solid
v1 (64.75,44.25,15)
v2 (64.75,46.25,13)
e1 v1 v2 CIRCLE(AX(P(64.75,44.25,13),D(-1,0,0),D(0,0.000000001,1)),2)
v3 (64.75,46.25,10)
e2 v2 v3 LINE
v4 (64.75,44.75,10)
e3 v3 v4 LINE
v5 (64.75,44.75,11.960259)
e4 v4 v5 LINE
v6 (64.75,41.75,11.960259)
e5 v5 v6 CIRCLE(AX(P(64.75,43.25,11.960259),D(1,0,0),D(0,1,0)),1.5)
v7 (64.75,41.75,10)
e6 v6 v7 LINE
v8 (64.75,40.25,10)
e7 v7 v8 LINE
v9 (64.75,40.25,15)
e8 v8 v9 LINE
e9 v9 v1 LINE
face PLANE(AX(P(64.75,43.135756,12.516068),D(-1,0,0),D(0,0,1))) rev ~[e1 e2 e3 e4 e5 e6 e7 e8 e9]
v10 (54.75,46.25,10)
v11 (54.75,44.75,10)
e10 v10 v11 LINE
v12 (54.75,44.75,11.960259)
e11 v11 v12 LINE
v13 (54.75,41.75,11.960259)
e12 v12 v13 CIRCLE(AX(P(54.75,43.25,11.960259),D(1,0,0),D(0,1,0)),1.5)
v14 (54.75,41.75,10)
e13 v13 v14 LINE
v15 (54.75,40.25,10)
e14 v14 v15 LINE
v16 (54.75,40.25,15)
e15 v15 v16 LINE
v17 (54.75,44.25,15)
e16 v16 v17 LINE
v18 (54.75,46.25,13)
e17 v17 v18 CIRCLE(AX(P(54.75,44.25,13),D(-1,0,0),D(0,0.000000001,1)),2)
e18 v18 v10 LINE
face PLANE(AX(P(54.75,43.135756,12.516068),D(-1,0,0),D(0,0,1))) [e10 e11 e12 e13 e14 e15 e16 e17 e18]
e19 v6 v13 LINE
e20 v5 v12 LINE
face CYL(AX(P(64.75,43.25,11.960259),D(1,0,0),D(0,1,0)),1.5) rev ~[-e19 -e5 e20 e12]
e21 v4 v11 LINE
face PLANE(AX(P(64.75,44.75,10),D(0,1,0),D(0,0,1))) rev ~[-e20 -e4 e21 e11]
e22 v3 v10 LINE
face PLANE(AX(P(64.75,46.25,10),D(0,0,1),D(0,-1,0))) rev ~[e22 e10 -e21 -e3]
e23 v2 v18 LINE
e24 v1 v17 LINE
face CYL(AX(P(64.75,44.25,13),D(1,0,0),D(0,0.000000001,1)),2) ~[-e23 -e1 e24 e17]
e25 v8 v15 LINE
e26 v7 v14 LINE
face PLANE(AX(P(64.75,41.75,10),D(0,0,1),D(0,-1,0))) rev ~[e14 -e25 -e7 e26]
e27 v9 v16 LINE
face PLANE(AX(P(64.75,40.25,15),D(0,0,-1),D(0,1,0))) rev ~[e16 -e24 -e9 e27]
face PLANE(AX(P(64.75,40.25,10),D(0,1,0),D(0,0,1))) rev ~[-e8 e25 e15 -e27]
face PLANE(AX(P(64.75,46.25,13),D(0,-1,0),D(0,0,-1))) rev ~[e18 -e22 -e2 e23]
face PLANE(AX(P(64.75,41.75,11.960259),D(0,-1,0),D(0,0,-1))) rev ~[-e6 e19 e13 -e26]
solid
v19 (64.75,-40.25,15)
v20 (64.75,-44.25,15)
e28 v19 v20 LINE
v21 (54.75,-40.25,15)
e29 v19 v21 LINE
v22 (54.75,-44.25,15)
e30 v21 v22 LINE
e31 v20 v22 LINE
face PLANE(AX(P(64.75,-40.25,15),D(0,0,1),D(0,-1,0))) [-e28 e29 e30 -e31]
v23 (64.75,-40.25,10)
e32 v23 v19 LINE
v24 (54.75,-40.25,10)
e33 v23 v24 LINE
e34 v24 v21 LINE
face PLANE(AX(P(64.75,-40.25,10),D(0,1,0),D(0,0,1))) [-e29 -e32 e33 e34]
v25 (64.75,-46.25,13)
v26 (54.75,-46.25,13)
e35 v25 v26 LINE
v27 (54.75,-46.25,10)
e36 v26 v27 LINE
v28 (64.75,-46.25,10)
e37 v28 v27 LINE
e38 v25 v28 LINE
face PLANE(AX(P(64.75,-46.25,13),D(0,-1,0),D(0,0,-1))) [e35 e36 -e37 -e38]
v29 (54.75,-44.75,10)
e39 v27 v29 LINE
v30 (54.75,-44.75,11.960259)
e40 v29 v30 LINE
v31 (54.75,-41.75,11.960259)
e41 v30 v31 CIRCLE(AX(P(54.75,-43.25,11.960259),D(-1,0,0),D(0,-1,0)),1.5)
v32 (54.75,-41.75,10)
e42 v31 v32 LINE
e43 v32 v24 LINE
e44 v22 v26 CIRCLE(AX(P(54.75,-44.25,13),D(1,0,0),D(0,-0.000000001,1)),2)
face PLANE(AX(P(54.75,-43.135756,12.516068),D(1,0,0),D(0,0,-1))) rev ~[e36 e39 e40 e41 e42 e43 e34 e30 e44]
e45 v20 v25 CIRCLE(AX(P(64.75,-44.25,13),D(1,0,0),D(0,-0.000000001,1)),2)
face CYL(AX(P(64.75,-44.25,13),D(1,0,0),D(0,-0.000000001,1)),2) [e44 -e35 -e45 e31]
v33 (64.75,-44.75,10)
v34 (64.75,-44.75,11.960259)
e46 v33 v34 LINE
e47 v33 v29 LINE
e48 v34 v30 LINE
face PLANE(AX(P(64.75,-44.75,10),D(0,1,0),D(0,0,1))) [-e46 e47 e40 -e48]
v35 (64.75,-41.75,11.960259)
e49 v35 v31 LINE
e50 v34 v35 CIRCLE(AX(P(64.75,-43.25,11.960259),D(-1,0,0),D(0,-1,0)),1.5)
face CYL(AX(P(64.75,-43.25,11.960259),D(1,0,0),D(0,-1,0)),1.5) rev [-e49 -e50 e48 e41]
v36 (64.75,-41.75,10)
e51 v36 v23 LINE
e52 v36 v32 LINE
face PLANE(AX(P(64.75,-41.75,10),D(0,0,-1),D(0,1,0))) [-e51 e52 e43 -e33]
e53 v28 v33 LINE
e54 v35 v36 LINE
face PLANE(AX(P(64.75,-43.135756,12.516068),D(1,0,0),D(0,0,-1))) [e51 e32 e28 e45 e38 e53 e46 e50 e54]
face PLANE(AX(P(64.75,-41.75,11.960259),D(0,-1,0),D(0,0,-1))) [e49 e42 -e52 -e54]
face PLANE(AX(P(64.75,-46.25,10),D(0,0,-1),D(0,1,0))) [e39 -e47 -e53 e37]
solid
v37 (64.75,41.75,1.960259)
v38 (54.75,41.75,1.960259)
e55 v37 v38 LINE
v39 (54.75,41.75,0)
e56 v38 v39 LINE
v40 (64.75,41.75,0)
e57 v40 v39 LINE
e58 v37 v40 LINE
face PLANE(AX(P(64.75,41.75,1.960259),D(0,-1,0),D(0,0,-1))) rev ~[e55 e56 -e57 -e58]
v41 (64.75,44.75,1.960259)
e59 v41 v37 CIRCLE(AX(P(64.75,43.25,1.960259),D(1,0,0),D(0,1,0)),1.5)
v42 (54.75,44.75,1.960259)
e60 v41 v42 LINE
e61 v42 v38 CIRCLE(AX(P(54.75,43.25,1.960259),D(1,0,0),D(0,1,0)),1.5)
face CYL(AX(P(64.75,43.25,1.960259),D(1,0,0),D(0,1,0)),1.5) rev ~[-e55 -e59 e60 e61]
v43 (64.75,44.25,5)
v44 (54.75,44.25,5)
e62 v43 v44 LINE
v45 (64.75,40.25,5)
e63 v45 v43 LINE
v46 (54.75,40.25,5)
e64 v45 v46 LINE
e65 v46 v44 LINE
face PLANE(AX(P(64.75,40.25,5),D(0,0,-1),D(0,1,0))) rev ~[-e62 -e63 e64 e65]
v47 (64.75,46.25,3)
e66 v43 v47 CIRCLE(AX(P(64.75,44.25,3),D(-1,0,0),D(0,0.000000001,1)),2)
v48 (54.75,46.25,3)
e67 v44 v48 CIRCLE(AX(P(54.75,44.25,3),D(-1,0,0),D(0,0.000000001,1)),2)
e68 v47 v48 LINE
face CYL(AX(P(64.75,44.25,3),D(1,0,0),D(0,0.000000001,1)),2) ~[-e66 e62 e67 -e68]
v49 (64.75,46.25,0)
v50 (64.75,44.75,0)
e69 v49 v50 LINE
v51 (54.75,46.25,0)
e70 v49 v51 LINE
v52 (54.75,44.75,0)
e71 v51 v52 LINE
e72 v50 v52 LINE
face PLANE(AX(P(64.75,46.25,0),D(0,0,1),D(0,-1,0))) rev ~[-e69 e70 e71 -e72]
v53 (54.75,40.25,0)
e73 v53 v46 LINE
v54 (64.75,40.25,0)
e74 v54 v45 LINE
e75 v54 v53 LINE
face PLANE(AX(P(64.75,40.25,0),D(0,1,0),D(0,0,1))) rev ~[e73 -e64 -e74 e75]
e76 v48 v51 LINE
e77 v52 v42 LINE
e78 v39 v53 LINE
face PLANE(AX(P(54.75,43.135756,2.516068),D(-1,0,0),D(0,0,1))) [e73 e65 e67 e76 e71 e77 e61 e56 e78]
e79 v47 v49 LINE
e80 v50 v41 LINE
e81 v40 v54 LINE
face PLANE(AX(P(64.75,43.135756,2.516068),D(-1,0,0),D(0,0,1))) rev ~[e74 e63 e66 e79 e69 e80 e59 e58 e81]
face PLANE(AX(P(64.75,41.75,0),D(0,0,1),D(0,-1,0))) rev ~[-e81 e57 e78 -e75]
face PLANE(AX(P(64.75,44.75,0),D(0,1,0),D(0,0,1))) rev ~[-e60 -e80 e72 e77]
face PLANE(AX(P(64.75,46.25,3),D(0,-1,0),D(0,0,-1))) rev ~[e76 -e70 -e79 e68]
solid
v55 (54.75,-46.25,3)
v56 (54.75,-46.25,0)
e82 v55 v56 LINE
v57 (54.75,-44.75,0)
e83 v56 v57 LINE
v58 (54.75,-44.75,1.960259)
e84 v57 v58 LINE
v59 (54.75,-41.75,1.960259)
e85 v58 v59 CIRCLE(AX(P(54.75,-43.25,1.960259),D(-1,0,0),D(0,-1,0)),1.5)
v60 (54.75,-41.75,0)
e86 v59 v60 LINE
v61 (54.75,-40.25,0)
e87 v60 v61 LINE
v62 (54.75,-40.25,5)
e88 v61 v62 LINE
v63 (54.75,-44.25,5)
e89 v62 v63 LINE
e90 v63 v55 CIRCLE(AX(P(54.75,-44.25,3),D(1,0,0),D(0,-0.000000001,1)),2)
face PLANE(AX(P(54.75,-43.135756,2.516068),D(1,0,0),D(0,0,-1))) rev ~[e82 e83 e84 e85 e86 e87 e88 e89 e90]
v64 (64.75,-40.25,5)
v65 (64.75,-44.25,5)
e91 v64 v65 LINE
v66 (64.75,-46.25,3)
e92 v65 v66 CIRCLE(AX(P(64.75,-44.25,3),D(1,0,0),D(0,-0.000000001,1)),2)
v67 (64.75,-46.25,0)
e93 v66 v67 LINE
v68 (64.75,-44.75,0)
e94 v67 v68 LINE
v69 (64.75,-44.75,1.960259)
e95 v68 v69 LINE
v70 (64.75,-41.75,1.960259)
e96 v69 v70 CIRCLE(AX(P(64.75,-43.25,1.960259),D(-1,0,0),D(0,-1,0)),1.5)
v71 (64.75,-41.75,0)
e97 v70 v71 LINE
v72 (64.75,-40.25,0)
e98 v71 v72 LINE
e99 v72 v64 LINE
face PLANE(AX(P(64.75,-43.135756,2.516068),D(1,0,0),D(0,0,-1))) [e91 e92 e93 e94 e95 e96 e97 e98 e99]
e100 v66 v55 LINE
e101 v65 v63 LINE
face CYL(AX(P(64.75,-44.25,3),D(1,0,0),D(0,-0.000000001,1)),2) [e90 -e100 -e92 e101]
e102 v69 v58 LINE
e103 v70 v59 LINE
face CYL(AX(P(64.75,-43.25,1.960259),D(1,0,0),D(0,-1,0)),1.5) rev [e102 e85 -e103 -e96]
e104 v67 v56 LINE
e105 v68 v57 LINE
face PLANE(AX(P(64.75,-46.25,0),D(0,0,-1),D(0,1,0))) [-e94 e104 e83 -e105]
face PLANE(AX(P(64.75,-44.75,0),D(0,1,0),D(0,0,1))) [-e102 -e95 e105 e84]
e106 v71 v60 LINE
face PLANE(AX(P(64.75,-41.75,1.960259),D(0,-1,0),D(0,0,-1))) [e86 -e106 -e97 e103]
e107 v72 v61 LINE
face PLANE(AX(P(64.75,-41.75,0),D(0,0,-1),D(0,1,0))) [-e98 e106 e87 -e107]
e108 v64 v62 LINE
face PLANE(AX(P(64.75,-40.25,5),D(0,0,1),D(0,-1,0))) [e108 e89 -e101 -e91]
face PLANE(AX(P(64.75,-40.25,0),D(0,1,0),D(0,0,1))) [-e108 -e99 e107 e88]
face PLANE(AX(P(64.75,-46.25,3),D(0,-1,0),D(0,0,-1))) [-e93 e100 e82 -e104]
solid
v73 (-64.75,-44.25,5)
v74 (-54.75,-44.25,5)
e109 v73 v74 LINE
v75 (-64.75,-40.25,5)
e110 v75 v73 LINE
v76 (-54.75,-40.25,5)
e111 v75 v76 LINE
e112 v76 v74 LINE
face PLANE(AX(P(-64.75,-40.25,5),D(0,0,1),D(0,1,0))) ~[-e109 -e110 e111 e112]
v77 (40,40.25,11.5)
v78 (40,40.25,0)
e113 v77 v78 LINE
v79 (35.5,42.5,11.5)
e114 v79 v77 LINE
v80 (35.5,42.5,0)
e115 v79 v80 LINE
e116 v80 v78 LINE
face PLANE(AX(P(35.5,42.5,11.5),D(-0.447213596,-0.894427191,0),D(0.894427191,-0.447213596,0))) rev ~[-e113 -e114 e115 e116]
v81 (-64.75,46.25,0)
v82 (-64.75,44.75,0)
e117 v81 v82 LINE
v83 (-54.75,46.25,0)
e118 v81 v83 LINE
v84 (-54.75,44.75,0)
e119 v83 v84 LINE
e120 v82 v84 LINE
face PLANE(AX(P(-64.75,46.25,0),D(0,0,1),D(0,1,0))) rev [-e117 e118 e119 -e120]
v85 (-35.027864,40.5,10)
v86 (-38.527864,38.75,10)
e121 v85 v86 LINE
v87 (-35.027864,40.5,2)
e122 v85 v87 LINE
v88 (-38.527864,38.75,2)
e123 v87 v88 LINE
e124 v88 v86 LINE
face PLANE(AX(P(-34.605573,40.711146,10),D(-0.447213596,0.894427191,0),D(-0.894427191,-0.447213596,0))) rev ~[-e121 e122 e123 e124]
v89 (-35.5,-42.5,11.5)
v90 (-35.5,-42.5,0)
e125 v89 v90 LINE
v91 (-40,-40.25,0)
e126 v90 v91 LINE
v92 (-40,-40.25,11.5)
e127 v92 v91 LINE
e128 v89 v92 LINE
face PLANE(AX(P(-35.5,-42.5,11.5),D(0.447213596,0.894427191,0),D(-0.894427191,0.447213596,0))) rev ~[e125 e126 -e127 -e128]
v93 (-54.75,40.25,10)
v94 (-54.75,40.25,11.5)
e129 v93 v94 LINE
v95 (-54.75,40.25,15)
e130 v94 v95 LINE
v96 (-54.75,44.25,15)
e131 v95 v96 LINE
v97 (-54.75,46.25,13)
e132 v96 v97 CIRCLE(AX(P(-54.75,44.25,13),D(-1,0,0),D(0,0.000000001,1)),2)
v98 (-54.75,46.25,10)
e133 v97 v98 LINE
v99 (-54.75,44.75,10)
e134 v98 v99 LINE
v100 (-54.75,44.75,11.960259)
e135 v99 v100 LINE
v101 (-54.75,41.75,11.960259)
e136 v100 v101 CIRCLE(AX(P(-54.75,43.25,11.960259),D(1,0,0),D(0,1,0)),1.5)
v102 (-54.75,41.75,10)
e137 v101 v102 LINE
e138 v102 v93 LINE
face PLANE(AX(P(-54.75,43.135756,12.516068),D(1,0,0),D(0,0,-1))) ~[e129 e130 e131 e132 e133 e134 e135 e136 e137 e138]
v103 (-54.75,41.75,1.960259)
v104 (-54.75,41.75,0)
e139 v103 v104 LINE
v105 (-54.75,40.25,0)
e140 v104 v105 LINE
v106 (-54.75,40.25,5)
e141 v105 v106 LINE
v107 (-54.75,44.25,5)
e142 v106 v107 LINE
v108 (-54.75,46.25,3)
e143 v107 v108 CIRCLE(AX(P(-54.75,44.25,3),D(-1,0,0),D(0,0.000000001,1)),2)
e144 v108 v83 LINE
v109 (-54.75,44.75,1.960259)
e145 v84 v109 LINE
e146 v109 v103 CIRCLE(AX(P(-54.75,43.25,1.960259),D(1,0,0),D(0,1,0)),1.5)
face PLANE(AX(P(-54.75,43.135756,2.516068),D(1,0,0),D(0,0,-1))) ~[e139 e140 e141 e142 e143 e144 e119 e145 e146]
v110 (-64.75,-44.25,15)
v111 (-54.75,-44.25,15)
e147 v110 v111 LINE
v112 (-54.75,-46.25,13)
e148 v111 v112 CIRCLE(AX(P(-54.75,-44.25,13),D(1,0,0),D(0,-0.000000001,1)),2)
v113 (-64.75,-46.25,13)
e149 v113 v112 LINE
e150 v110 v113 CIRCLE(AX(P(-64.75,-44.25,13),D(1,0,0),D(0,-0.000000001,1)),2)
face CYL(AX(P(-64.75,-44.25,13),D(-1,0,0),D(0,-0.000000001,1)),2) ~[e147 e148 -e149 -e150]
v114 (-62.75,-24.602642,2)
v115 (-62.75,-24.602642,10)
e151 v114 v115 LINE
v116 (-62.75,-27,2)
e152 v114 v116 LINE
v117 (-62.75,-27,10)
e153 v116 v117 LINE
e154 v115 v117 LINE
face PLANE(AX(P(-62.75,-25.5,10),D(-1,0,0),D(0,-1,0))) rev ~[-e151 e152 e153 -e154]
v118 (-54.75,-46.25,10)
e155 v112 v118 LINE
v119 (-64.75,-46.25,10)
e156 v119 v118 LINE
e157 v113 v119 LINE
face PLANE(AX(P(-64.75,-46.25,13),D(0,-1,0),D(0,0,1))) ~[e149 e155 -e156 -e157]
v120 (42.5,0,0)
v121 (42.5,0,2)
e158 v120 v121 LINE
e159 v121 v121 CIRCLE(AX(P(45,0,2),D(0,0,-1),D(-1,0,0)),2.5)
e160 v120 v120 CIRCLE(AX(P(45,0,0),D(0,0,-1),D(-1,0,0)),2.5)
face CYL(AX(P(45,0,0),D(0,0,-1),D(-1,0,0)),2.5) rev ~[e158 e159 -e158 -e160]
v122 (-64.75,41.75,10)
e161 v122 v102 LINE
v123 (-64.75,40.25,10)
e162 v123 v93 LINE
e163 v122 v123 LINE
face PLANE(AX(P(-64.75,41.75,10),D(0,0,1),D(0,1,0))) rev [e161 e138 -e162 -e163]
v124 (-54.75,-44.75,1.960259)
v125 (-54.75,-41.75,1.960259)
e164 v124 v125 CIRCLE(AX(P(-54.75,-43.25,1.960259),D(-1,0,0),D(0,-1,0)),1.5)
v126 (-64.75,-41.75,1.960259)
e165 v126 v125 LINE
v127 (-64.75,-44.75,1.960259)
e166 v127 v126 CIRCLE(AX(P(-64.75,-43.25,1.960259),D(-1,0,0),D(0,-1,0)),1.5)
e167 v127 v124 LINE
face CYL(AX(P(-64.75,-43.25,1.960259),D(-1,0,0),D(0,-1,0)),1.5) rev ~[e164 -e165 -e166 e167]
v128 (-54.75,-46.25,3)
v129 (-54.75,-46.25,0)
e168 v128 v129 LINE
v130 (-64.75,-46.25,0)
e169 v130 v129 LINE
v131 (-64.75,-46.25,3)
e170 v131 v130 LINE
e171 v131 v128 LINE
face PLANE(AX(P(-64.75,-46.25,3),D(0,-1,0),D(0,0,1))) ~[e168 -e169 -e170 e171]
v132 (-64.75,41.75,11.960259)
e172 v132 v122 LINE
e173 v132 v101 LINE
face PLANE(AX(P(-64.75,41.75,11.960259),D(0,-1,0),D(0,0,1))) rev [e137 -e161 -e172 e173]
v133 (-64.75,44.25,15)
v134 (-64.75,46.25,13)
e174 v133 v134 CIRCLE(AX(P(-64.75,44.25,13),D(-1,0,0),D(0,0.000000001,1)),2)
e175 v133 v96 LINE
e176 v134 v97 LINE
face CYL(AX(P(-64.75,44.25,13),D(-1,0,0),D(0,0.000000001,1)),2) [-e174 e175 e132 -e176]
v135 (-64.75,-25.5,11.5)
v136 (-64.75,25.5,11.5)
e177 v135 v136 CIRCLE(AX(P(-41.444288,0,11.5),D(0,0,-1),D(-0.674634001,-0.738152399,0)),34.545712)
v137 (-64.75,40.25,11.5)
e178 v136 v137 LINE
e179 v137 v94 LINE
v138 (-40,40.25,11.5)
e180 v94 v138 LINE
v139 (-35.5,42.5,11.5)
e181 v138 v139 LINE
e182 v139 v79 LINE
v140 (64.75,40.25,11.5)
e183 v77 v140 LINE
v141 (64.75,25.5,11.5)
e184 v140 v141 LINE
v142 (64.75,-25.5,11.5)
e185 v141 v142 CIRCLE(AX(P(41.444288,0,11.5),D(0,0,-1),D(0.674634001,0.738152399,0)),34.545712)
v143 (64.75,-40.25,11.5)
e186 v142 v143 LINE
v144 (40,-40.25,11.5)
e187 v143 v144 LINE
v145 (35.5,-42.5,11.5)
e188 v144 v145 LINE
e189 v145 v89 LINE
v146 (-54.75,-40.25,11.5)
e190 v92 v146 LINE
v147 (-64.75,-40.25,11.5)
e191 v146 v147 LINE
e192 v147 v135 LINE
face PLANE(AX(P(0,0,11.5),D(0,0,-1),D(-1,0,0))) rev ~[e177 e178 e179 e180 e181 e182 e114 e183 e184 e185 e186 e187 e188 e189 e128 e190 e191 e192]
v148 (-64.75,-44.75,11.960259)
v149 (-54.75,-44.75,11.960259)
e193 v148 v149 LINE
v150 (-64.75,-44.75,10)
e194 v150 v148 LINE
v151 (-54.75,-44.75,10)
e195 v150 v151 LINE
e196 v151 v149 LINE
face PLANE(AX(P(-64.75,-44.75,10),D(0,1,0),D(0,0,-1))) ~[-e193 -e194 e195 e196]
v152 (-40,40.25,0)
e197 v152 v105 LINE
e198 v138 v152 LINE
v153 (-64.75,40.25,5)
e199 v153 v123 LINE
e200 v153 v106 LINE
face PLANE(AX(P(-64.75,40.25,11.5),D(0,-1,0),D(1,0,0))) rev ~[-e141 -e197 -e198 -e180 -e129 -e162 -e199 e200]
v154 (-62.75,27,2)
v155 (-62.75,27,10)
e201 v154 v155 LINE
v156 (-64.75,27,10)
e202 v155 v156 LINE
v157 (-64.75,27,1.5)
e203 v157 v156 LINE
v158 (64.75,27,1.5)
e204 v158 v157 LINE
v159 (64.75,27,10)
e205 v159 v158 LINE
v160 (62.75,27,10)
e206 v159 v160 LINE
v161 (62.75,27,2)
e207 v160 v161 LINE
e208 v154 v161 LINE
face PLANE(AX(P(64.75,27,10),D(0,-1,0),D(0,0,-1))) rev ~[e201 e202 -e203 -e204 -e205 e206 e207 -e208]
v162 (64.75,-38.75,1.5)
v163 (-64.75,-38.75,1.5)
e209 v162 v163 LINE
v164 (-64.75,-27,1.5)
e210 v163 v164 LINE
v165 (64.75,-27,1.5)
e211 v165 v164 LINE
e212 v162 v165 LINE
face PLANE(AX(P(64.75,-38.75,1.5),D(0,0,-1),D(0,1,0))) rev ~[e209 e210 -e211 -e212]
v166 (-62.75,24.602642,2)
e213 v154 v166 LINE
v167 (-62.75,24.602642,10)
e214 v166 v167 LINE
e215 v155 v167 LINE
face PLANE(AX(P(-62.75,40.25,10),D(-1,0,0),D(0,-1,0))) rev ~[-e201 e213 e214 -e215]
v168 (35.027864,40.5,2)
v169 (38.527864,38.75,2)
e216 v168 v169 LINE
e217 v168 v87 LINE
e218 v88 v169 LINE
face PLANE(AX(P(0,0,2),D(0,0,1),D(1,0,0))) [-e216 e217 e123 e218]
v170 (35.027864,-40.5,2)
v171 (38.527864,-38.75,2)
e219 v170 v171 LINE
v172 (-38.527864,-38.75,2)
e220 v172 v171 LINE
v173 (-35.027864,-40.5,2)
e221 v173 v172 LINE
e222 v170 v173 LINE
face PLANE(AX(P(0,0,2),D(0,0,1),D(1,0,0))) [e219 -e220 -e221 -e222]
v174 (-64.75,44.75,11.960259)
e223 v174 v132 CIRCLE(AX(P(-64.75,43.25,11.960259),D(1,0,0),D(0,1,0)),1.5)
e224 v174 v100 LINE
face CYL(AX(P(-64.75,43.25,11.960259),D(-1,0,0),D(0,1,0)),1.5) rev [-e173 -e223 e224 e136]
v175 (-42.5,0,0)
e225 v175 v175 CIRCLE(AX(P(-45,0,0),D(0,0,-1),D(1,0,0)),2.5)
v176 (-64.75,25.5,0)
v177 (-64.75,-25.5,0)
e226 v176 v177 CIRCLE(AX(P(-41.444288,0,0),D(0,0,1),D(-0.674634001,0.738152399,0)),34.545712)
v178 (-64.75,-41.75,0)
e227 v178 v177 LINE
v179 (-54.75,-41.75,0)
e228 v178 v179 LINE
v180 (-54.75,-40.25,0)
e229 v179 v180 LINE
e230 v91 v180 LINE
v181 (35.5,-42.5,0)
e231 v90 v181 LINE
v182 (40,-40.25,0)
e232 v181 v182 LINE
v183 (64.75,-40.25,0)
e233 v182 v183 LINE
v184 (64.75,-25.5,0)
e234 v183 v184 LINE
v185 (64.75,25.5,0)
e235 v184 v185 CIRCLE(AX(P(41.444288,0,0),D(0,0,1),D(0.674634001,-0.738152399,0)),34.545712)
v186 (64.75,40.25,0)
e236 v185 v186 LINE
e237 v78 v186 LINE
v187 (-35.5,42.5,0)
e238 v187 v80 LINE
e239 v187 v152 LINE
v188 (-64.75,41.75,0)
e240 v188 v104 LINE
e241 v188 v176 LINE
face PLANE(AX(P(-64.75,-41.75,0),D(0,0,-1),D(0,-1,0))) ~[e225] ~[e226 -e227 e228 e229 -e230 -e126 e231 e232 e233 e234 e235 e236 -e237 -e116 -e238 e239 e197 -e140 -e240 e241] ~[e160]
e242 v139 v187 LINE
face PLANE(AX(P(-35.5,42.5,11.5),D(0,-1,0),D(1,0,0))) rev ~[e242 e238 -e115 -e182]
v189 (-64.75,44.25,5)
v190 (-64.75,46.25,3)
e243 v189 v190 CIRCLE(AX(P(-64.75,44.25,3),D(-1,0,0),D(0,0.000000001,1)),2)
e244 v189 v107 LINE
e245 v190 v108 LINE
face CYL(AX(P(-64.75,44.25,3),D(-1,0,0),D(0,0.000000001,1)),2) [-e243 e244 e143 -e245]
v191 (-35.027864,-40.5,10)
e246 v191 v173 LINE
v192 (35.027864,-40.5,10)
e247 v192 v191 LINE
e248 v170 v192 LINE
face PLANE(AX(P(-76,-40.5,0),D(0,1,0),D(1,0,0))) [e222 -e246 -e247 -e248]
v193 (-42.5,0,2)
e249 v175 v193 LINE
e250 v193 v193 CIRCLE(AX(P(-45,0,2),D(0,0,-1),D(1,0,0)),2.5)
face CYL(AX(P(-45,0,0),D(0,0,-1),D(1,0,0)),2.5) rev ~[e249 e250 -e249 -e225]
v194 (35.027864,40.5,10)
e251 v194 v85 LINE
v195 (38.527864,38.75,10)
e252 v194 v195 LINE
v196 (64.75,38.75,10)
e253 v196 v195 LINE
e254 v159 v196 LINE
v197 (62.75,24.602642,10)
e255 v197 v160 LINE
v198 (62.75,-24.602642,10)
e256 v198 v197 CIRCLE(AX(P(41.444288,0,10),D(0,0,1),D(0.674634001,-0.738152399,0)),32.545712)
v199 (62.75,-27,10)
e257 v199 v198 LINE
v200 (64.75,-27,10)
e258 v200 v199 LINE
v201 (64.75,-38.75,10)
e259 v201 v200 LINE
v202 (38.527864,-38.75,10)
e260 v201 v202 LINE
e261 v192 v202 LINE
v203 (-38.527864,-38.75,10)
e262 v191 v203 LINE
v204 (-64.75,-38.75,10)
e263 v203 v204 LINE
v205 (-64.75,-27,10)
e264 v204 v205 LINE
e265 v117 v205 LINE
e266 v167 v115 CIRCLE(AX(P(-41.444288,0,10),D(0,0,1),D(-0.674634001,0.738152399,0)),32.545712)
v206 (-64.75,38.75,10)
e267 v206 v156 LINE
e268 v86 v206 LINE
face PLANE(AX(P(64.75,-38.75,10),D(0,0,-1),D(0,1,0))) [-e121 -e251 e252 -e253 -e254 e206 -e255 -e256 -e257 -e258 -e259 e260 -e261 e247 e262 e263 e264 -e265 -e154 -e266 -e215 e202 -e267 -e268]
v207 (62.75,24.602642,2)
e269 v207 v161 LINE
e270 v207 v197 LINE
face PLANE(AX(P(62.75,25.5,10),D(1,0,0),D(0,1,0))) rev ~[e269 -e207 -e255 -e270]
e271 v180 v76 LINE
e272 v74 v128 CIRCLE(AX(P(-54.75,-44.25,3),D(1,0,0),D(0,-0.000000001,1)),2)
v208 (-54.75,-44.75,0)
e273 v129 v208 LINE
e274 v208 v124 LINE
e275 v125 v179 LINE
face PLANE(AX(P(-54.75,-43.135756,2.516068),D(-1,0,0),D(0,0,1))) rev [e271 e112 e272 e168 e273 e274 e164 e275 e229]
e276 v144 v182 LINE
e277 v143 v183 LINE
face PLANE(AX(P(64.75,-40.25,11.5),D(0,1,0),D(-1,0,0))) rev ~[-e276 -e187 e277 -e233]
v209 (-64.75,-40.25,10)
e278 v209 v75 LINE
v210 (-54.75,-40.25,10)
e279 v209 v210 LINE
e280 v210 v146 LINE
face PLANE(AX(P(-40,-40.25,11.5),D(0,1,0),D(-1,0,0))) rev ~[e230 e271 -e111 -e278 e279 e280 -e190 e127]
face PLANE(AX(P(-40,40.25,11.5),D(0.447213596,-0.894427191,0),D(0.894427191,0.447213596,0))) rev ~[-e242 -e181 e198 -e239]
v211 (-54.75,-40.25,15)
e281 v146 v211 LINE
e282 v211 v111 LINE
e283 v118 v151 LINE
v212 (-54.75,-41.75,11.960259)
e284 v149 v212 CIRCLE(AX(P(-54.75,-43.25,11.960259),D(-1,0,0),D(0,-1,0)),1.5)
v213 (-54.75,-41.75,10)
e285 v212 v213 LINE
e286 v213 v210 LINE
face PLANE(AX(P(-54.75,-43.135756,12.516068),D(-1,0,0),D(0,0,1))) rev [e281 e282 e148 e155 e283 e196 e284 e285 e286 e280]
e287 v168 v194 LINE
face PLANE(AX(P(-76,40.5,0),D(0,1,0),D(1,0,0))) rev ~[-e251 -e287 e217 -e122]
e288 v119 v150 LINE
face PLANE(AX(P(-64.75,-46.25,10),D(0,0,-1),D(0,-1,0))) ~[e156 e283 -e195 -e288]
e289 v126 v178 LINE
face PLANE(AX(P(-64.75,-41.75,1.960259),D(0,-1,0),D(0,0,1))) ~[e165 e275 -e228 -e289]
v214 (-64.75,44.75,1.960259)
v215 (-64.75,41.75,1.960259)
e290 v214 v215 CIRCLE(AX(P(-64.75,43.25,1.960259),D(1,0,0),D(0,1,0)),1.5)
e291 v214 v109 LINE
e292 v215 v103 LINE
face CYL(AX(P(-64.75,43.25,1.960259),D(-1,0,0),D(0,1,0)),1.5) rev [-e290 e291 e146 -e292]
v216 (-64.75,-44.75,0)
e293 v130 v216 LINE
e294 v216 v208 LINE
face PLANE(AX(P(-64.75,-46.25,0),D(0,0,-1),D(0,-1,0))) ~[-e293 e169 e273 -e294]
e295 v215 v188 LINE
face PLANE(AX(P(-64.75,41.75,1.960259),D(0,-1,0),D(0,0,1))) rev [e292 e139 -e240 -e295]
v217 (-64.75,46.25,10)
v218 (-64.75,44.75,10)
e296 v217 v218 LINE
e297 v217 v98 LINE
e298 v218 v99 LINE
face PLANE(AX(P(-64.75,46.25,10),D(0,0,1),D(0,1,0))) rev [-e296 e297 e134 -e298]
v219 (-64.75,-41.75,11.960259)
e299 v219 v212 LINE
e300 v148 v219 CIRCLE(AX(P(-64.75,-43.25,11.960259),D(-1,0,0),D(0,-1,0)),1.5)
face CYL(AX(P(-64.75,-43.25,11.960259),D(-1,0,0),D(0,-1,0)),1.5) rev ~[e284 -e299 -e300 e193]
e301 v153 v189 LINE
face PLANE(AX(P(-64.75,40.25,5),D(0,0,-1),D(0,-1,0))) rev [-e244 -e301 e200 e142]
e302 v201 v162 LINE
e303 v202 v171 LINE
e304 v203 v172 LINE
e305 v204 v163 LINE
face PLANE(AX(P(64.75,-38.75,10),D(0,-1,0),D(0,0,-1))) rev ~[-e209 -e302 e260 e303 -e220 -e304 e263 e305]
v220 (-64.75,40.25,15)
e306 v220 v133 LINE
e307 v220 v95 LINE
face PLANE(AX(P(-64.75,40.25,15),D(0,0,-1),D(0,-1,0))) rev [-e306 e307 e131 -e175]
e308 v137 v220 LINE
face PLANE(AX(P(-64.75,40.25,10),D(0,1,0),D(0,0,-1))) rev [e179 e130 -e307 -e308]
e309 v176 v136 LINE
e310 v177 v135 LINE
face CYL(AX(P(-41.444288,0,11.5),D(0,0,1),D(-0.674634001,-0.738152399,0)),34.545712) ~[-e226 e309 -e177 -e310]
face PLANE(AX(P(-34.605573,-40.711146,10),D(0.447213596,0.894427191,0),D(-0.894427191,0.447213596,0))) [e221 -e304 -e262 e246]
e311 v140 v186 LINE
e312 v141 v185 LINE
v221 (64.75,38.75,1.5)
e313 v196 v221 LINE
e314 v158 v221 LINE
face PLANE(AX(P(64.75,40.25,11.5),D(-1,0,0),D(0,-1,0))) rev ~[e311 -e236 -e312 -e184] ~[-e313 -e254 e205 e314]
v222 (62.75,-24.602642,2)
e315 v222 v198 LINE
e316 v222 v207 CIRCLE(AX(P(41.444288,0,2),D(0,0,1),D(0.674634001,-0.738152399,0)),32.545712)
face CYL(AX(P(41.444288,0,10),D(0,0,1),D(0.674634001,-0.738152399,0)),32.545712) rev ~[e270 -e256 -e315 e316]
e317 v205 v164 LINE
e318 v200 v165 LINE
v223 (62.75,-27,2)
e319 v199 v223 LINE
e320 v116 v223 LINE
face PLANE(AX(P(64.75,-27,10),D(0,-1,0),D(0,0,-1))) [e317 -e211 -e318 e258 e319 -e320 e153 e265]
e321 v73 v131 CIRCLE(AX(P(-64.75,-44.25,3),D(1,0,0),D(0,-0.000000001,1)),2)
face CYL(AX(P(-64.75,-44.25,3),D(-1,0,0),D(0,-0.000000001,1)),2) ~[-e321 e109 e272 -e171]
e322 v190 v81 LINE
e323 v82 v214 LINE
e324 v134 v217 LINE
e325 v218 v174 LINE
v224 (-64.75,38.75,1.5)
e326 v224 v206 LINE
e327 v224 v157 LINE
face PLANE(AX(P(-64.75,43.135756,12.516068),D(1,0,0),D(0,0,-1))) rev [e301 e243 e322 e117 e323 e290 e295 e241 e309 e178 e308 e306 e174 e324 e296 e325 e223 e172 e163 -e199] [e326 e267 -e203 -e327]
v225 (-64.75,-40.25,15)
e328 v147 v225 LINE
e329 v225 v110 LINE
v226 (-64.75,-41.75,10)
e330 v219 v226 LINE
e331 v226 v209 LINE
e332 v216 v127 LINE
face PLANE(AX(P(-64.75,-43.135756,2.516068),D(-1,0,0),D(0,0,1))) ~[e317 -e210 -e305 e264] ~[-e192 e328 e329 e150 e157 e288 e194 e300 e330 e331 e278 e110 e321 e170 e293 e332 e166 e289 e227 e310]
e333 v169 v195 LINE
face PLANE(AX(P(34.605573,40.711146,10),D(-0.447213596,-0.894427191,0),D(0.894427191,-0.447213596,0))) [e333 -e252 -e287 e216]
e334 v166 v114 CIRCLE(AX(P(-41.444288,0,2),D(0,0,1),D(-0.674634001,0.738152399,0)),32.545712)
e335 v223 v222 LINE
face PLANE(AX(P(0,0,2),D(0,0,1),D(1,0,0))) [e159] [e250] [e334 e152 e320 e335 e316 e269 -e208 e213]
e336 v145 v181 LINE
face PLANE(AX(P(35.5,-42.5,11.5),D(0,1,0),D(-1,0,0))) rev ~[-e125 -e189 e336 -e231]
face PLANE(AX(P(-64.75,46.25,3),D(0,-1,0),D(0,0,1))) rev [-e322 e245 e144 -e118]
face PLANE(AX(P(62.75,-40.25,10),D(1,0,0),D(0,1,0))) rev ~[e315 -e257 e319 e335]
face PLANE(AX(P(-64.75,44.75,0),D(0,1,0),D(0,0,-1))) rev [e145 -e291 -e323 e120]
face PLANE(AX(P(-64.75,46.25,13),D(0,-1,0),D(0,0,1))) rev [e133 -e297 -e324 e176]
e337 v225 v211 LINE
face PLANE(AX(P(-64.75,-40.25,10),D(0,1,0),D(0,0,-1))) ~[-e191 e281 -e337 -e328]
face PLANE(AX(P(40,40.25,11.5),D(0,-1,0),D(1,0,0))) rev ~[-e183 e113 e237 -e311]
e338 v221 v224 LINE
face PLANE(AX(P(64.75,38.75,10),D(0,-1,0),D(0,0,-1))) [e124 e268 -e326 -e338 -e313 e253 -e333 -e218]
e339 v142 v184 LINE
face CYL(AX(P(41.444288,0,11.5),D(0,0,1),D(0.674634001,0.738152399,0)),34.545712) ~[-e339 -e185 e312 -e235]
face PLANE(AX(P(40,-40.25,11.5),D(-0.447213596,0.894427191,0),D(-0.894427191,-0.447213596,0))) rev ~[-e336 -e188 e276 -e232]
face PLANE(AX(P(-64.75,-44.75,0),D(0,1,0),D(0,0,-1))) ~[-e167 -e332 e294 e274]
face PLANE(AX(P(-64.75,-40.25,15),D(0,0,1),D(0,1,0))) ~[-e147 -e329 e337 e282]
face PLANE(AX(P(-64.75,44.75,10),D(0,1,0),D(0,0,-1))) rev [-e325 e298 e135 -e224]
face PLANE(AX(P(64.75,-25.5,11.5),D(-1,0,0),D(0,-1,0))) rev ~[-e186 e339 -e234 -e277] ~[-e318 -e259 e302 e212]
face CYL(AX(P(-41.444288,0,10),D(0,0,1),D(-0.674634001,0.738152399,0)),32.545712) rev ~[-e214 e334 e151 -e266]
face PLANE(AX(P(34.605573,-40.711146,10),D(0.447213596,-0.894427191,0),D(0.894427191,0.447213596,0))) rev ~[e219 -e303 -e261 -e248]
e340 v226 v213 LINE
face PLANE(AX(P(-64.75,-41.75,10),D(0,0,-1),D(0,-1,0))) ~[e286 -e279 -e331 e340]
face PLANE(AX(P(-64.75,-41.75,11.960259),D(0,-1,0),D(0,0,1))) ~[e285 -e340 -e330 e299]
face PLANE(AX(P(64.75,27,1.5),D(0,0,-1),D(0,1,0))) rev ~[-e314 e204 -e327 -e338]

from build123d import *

# Parameters (mm, degrees)
SKETCH_1_W          = 152
SKETCH_1_H          = 85
EXTRUDE_1_DEPTH     = 10
CUT_EXTRUDE_1_DEPTH = 88.648445508
CUT_EXTRUDE_2_DEPTH = 88.648445508
SHELL_1_T           = -2
EXTRUDE_START       = 1.5
EXTRUDE_3_DEPTH     = 1.5
EXTRUDE_2_DEPTH     = 10
EXTRUDE_2_2_DEPTH   = 10
EXTRUDE_2_3_DEPTH   = 10
EXTRUDE_2_4_DEPTH   = 10
SKETCH_6_W          = 8.5
SKETCH_6_H          = 11.75
CUT_EXTRUDE_4_DEPTH = 149.902015097
SKETCH_4_R          = 2.5
CUT_EXTRUDE_3_DEPTH = 3


with BuildPart() as part:
    # 草图1 → 凸台-拉伸1 (new body)
    with BuildSketch(Plane.XY):
        Rectangle(SKETCH_1_W, SKETCH_1_H)
    extrude(amount=EXTRUDE_1_DEPTH)

    # 草图2 → 切除-拉伸1 (cut, through all)
    with BuildSketch(Plane.XY.offset(10)):
        Polygon((-35.5, 42.5), (-40, 40.25), (-76, 40.25), (-76, 42.5), align=None)
        Polygon((76, 42.5), (35.5, 42.5), (40, 40.25), (76, 40.25), align=None)
        Polygon((35.5, -42.5), (40, -40.25), (76, -40.25), (76, -42.5), align=None)
        Polygon((-76, -42.5), (-35.5, -42.5), (-40, -40.25), (-76, -40.25), align=None)
    extrude(amount=-CUT_EXTRUDE_1_DEPTH, mode=Mode.SUBTRACT)

    # 草图3 → 切除-拉伸2 (cut, through all)
    with BuildSketch(Plane.XY.offset(10)):
        with BuildLine():
            Line((-64.75, -25.5), (-64.75, -40.25))
            Line((-64.75, -40.25), (-76, -40.25))
            Line((-76, -40.25), (-76, 40.25))
            Line((-76, 40.25), (-64.75, 40.25))
            Line((-64.75, 40.25), (-64.75, 25.5))
            ThreePointArc((-64.75, 25.5), (-75.99, 0), (-64.75, -25.5))
        make_face()
        with BuildLine():
            Line((64.75, 40.25), (76, 40.25))
            Line((76, 40.25), (76, -40.25))
            Line((76, -40.25), (64.75, -40.25))
            Line((64.75, -40.25), (64.75, -25.5))
            ThreePointArc((64.75, -25.5), (75.99, 0), (64.75, 25.5))
            Line((64.75, 25.5), (64.75, 40.25))
        make_face()
    extrude(amount=-CUT_EXTRUDE_2_DEPTH, mode=Mode.SUBTRACT)

    # 抽壳1
    shell_1_openings = [part.faces().sort_by_distance(p)[0] for p in [
        (0, 0, 10),
    ]]
    offset(amount=SHELL_1_T, openings=shell_1_openings, kind=Kind.INTERSECTION)

    # 草图7 → 凸台-拉伸3 (add)
    with BuildSketch(Plane.XY.offset(10).offset(EXTRUDE_START)):
        with BuildLine():
            Line((-64.75, 40.25), (-40, 40.25))
            Line((-40, 40.25), (-35.5, 42.5))
            Line((-35.5, 42.5), (35.5, 42.5))
            Line((35.5, 42.5), (40, 40.25))
            Line((40, 40.25), (64.75, 40.25))
            Line((64.75, 40.25), (64.75, 25.5))
            ThreePointArc((64.75, 25.5), (75.99, 0), (64.75, -25.5))
            Line((64.75, -25.5), (64.75, -40.25))
            Line((64.75, -40.25), (40, -40.25))
            Line((40, -40.25), (35.5, -42.5))
            Line((35.5, -42.5), (-35.5, -42.5))
            Line((-35.5, -42.5), (-40, -40.25))
            Line((-40, -40.25), (-64.75, -40.25))
            Line((-64.75, -40.25), (-64.75, -25.5))
            ThreePointArc((-64.75, -25.5), (-75.99, 0), (-64.75, 25.5))
            Line((-64.75, 25.5), (-64.75, 40.25))
        make_face()
    extrude(amount=-EXTRUDE_3_DEPTH)


with BuildPart() as body_2:
    # 草图5 → 凸台-拉伸2 (new body)
    with BuildSketch(Plane(origin=(64.75, 0, 0), x_dir=(0, 0, -1), z_dir=(1, 0, 0))):
        with BuildLine():
            Line((0, 40.25), (-5, 40.25))
            Line((-5, 40.25), (-5, 44.25))
            ThreePointArc((-5, 44.25), (-4.414213562, 45.664213562), (-3, 46.25))
            Line((-3, 46.25), (0, 46.25))
            Line((0, 46.25), (0, 44.75))
            Line((0, 44.75), (-1.96025928, 44.75))
            ThreePointArc((-1.96025928, 44.75), (-3.46025928, 43.25), (-1.96025928, 41.75))
            Line((-1.96025928, 41.75), (0, 41.75))
            Line((0, 41.75), (0, 40.25))
        make_face()
    extrude_2 = extrude(amount=-EXTRUDE_2_DEPTH)


with BuildPart() as body_3:
    # 草图5 → Extrude 2 2 (new body)
    with BuildSketch(Plane(origin=(64.75, 0, 0), x_dir=(0, 0, -1), z_dir=(1, 0, 0))):
        with BuildLine():
            Line((-10, 40.25), (-15, 40.25))
            Line((-15, 40.25), (-15, 44.25))
            ThreePointArc((-15, 44.25), (-14.414213562, 45.664213562), (-13, 46.25))
            Line((-13, 46.25), (-10, 46.25))
            Line((-10, 46.25), (-10, 44.75))
            Line((-10, 44.75), (-11.96025928, 44.75))
            ThreePointArc((-11.96025928, 44.75), (-13.46025928, 43.25), (-11.96025928, 41.75))
            Line((-11.96025928, 41.75), (-10, 41.75))
            Line((-10, 41.75), (-10, 40.25))
        make_face()
    extrude_2_2 = extrude(amount=-EXTRUDE_2_2_DEPTH)


with BuildPart() as body_4:
    # 草图5 → Extrude 2 3 (new body)
    with BuildSketch(Plane(origin=(64.75, 0, 0), x_dir=(0, 0, -1), z_dir=(1, 0, 0))):
        with BuildLine():
            Line((-10, -41.75), (-10, -40.25))
            Line((-10, -40.25), (-15, -40.25))
            Line((-15, -40.25), (-15, -44.25))
            ThreePointArc((-15, -44.25), (-14.414213562, -45.664213562), (-13, -46.25))
            Line((-13, -46.25), (-10, -46.25))
            Line((-10, -46.25), (-10, -44.75))
            Line((-10, -44.75), (-11.96025928, -44.75))
            ThreePointArc((-11.96025928, -44.75), (-13.46025928, -43.25), (-11.96025928, -41.75))
            Line((-11.96025928, -41.75), (-10, -41.75))
        make_face()
    extrude_2_3 = extrude(amount=-EXTRUDE_2_3_DEPTH)


with BuildPart() as body_5:
    # 草图5 → Extrude 2 4 (new body)
    with BuildSketch(Plane(origin=(64.75, 0, 0), x_dir=(0, 0, -1), z_dir=(1, 0, 0))):
        with BuildLine():
            Line((0, -41.75), (0, -40.25))
            Line((0, -40.25), (-5, -40.25))
            Line((-5, -40.25), (-5, -44.25))
            ThreePointArc((-5, -44.25), (-4.414213562, -45.664213562), (-3, -46.25))
            Line((-3, -46.25), (0, -46.25))
            Line((0, -46.25), (0, -44.75))
            Line((0, -44.75), (-1.96025928, -44.75))
            ThreePointArc((-1.96025928, -44.75), (-3.46025928, -43.25), (-1.96025928, -41.75))
            Line((-1.96025928, -41.75), (0, -41.75))
        make_face()
    extrude_2_4 = extrude(amount=-EXTRUDE_2_4_DEPTH)


with BuildPart() as part_1:
    add(part.part)

    # 镜向10: 凸台-拉伸2, Extrude 2 2, Extrude 2 3, Extrude 2 4 across plane
    add(extrude_2.mirror(Plane(origin=(0, 0, 0), x_dir=(0, 0, 1), z_dir=(1, 0, 0))))
    add(extrude_2_2.mirror(Plane(origin=(0, 0, 0), x_dir=(0, 0, 1), z_dir=(1, 0, 0))))
    add(extrude_2_3.mirror(Plane(origin=(0, 0, 0), x_dir=(0, 0, 1), z_dir=(1, 0, 0))))
    add(extrude_2_4.mirror(Plane(origin=(0, 0, 0), x_dir=(0, 0, 1), z_dir=(1, 0, 0))))

    # 草图6 → 切除-拉伸4 (cut, through all)
    with BuildSketch(Plane(origin=(64.75, 0, 0), x_dir=(0, 0, -1), z_dir=(1, 0, 0))):
        with Locations((-5.75, -32.875)):
            Rectangle(SKETCH_6_W, SKETCH_6_H)
        with Locations((-5.75, 32.875)):
            Rectangle(SKETCH_6_W, SKETCH_6_H)
    extrude(amount=-CUT_EXTRUDE_4_DEPTH, mode=Mode.SUBTRACT)

    # 草图4 → 切除-拉伸3 (cut)
    with BuildSketch(Plane(origin=(0, 0, 0), x_dir=(-1, 0, 0), z_dir=(0, 0, -1))):
        with Locations((-45, 0)):
            Circle(SKETCH_4_R)
        with Locations(Location((45, 0, 0), (0, 0, 180))):
            Circle(SKETCH_4_R)
    extrude(amount=-CUT_EXTRUDE_3_DEPTH, mode=Mode.SUBTRACT)


solid = Compound([body_2.part, body_3.part, body_4.part, body_5.part, part_1.part])
